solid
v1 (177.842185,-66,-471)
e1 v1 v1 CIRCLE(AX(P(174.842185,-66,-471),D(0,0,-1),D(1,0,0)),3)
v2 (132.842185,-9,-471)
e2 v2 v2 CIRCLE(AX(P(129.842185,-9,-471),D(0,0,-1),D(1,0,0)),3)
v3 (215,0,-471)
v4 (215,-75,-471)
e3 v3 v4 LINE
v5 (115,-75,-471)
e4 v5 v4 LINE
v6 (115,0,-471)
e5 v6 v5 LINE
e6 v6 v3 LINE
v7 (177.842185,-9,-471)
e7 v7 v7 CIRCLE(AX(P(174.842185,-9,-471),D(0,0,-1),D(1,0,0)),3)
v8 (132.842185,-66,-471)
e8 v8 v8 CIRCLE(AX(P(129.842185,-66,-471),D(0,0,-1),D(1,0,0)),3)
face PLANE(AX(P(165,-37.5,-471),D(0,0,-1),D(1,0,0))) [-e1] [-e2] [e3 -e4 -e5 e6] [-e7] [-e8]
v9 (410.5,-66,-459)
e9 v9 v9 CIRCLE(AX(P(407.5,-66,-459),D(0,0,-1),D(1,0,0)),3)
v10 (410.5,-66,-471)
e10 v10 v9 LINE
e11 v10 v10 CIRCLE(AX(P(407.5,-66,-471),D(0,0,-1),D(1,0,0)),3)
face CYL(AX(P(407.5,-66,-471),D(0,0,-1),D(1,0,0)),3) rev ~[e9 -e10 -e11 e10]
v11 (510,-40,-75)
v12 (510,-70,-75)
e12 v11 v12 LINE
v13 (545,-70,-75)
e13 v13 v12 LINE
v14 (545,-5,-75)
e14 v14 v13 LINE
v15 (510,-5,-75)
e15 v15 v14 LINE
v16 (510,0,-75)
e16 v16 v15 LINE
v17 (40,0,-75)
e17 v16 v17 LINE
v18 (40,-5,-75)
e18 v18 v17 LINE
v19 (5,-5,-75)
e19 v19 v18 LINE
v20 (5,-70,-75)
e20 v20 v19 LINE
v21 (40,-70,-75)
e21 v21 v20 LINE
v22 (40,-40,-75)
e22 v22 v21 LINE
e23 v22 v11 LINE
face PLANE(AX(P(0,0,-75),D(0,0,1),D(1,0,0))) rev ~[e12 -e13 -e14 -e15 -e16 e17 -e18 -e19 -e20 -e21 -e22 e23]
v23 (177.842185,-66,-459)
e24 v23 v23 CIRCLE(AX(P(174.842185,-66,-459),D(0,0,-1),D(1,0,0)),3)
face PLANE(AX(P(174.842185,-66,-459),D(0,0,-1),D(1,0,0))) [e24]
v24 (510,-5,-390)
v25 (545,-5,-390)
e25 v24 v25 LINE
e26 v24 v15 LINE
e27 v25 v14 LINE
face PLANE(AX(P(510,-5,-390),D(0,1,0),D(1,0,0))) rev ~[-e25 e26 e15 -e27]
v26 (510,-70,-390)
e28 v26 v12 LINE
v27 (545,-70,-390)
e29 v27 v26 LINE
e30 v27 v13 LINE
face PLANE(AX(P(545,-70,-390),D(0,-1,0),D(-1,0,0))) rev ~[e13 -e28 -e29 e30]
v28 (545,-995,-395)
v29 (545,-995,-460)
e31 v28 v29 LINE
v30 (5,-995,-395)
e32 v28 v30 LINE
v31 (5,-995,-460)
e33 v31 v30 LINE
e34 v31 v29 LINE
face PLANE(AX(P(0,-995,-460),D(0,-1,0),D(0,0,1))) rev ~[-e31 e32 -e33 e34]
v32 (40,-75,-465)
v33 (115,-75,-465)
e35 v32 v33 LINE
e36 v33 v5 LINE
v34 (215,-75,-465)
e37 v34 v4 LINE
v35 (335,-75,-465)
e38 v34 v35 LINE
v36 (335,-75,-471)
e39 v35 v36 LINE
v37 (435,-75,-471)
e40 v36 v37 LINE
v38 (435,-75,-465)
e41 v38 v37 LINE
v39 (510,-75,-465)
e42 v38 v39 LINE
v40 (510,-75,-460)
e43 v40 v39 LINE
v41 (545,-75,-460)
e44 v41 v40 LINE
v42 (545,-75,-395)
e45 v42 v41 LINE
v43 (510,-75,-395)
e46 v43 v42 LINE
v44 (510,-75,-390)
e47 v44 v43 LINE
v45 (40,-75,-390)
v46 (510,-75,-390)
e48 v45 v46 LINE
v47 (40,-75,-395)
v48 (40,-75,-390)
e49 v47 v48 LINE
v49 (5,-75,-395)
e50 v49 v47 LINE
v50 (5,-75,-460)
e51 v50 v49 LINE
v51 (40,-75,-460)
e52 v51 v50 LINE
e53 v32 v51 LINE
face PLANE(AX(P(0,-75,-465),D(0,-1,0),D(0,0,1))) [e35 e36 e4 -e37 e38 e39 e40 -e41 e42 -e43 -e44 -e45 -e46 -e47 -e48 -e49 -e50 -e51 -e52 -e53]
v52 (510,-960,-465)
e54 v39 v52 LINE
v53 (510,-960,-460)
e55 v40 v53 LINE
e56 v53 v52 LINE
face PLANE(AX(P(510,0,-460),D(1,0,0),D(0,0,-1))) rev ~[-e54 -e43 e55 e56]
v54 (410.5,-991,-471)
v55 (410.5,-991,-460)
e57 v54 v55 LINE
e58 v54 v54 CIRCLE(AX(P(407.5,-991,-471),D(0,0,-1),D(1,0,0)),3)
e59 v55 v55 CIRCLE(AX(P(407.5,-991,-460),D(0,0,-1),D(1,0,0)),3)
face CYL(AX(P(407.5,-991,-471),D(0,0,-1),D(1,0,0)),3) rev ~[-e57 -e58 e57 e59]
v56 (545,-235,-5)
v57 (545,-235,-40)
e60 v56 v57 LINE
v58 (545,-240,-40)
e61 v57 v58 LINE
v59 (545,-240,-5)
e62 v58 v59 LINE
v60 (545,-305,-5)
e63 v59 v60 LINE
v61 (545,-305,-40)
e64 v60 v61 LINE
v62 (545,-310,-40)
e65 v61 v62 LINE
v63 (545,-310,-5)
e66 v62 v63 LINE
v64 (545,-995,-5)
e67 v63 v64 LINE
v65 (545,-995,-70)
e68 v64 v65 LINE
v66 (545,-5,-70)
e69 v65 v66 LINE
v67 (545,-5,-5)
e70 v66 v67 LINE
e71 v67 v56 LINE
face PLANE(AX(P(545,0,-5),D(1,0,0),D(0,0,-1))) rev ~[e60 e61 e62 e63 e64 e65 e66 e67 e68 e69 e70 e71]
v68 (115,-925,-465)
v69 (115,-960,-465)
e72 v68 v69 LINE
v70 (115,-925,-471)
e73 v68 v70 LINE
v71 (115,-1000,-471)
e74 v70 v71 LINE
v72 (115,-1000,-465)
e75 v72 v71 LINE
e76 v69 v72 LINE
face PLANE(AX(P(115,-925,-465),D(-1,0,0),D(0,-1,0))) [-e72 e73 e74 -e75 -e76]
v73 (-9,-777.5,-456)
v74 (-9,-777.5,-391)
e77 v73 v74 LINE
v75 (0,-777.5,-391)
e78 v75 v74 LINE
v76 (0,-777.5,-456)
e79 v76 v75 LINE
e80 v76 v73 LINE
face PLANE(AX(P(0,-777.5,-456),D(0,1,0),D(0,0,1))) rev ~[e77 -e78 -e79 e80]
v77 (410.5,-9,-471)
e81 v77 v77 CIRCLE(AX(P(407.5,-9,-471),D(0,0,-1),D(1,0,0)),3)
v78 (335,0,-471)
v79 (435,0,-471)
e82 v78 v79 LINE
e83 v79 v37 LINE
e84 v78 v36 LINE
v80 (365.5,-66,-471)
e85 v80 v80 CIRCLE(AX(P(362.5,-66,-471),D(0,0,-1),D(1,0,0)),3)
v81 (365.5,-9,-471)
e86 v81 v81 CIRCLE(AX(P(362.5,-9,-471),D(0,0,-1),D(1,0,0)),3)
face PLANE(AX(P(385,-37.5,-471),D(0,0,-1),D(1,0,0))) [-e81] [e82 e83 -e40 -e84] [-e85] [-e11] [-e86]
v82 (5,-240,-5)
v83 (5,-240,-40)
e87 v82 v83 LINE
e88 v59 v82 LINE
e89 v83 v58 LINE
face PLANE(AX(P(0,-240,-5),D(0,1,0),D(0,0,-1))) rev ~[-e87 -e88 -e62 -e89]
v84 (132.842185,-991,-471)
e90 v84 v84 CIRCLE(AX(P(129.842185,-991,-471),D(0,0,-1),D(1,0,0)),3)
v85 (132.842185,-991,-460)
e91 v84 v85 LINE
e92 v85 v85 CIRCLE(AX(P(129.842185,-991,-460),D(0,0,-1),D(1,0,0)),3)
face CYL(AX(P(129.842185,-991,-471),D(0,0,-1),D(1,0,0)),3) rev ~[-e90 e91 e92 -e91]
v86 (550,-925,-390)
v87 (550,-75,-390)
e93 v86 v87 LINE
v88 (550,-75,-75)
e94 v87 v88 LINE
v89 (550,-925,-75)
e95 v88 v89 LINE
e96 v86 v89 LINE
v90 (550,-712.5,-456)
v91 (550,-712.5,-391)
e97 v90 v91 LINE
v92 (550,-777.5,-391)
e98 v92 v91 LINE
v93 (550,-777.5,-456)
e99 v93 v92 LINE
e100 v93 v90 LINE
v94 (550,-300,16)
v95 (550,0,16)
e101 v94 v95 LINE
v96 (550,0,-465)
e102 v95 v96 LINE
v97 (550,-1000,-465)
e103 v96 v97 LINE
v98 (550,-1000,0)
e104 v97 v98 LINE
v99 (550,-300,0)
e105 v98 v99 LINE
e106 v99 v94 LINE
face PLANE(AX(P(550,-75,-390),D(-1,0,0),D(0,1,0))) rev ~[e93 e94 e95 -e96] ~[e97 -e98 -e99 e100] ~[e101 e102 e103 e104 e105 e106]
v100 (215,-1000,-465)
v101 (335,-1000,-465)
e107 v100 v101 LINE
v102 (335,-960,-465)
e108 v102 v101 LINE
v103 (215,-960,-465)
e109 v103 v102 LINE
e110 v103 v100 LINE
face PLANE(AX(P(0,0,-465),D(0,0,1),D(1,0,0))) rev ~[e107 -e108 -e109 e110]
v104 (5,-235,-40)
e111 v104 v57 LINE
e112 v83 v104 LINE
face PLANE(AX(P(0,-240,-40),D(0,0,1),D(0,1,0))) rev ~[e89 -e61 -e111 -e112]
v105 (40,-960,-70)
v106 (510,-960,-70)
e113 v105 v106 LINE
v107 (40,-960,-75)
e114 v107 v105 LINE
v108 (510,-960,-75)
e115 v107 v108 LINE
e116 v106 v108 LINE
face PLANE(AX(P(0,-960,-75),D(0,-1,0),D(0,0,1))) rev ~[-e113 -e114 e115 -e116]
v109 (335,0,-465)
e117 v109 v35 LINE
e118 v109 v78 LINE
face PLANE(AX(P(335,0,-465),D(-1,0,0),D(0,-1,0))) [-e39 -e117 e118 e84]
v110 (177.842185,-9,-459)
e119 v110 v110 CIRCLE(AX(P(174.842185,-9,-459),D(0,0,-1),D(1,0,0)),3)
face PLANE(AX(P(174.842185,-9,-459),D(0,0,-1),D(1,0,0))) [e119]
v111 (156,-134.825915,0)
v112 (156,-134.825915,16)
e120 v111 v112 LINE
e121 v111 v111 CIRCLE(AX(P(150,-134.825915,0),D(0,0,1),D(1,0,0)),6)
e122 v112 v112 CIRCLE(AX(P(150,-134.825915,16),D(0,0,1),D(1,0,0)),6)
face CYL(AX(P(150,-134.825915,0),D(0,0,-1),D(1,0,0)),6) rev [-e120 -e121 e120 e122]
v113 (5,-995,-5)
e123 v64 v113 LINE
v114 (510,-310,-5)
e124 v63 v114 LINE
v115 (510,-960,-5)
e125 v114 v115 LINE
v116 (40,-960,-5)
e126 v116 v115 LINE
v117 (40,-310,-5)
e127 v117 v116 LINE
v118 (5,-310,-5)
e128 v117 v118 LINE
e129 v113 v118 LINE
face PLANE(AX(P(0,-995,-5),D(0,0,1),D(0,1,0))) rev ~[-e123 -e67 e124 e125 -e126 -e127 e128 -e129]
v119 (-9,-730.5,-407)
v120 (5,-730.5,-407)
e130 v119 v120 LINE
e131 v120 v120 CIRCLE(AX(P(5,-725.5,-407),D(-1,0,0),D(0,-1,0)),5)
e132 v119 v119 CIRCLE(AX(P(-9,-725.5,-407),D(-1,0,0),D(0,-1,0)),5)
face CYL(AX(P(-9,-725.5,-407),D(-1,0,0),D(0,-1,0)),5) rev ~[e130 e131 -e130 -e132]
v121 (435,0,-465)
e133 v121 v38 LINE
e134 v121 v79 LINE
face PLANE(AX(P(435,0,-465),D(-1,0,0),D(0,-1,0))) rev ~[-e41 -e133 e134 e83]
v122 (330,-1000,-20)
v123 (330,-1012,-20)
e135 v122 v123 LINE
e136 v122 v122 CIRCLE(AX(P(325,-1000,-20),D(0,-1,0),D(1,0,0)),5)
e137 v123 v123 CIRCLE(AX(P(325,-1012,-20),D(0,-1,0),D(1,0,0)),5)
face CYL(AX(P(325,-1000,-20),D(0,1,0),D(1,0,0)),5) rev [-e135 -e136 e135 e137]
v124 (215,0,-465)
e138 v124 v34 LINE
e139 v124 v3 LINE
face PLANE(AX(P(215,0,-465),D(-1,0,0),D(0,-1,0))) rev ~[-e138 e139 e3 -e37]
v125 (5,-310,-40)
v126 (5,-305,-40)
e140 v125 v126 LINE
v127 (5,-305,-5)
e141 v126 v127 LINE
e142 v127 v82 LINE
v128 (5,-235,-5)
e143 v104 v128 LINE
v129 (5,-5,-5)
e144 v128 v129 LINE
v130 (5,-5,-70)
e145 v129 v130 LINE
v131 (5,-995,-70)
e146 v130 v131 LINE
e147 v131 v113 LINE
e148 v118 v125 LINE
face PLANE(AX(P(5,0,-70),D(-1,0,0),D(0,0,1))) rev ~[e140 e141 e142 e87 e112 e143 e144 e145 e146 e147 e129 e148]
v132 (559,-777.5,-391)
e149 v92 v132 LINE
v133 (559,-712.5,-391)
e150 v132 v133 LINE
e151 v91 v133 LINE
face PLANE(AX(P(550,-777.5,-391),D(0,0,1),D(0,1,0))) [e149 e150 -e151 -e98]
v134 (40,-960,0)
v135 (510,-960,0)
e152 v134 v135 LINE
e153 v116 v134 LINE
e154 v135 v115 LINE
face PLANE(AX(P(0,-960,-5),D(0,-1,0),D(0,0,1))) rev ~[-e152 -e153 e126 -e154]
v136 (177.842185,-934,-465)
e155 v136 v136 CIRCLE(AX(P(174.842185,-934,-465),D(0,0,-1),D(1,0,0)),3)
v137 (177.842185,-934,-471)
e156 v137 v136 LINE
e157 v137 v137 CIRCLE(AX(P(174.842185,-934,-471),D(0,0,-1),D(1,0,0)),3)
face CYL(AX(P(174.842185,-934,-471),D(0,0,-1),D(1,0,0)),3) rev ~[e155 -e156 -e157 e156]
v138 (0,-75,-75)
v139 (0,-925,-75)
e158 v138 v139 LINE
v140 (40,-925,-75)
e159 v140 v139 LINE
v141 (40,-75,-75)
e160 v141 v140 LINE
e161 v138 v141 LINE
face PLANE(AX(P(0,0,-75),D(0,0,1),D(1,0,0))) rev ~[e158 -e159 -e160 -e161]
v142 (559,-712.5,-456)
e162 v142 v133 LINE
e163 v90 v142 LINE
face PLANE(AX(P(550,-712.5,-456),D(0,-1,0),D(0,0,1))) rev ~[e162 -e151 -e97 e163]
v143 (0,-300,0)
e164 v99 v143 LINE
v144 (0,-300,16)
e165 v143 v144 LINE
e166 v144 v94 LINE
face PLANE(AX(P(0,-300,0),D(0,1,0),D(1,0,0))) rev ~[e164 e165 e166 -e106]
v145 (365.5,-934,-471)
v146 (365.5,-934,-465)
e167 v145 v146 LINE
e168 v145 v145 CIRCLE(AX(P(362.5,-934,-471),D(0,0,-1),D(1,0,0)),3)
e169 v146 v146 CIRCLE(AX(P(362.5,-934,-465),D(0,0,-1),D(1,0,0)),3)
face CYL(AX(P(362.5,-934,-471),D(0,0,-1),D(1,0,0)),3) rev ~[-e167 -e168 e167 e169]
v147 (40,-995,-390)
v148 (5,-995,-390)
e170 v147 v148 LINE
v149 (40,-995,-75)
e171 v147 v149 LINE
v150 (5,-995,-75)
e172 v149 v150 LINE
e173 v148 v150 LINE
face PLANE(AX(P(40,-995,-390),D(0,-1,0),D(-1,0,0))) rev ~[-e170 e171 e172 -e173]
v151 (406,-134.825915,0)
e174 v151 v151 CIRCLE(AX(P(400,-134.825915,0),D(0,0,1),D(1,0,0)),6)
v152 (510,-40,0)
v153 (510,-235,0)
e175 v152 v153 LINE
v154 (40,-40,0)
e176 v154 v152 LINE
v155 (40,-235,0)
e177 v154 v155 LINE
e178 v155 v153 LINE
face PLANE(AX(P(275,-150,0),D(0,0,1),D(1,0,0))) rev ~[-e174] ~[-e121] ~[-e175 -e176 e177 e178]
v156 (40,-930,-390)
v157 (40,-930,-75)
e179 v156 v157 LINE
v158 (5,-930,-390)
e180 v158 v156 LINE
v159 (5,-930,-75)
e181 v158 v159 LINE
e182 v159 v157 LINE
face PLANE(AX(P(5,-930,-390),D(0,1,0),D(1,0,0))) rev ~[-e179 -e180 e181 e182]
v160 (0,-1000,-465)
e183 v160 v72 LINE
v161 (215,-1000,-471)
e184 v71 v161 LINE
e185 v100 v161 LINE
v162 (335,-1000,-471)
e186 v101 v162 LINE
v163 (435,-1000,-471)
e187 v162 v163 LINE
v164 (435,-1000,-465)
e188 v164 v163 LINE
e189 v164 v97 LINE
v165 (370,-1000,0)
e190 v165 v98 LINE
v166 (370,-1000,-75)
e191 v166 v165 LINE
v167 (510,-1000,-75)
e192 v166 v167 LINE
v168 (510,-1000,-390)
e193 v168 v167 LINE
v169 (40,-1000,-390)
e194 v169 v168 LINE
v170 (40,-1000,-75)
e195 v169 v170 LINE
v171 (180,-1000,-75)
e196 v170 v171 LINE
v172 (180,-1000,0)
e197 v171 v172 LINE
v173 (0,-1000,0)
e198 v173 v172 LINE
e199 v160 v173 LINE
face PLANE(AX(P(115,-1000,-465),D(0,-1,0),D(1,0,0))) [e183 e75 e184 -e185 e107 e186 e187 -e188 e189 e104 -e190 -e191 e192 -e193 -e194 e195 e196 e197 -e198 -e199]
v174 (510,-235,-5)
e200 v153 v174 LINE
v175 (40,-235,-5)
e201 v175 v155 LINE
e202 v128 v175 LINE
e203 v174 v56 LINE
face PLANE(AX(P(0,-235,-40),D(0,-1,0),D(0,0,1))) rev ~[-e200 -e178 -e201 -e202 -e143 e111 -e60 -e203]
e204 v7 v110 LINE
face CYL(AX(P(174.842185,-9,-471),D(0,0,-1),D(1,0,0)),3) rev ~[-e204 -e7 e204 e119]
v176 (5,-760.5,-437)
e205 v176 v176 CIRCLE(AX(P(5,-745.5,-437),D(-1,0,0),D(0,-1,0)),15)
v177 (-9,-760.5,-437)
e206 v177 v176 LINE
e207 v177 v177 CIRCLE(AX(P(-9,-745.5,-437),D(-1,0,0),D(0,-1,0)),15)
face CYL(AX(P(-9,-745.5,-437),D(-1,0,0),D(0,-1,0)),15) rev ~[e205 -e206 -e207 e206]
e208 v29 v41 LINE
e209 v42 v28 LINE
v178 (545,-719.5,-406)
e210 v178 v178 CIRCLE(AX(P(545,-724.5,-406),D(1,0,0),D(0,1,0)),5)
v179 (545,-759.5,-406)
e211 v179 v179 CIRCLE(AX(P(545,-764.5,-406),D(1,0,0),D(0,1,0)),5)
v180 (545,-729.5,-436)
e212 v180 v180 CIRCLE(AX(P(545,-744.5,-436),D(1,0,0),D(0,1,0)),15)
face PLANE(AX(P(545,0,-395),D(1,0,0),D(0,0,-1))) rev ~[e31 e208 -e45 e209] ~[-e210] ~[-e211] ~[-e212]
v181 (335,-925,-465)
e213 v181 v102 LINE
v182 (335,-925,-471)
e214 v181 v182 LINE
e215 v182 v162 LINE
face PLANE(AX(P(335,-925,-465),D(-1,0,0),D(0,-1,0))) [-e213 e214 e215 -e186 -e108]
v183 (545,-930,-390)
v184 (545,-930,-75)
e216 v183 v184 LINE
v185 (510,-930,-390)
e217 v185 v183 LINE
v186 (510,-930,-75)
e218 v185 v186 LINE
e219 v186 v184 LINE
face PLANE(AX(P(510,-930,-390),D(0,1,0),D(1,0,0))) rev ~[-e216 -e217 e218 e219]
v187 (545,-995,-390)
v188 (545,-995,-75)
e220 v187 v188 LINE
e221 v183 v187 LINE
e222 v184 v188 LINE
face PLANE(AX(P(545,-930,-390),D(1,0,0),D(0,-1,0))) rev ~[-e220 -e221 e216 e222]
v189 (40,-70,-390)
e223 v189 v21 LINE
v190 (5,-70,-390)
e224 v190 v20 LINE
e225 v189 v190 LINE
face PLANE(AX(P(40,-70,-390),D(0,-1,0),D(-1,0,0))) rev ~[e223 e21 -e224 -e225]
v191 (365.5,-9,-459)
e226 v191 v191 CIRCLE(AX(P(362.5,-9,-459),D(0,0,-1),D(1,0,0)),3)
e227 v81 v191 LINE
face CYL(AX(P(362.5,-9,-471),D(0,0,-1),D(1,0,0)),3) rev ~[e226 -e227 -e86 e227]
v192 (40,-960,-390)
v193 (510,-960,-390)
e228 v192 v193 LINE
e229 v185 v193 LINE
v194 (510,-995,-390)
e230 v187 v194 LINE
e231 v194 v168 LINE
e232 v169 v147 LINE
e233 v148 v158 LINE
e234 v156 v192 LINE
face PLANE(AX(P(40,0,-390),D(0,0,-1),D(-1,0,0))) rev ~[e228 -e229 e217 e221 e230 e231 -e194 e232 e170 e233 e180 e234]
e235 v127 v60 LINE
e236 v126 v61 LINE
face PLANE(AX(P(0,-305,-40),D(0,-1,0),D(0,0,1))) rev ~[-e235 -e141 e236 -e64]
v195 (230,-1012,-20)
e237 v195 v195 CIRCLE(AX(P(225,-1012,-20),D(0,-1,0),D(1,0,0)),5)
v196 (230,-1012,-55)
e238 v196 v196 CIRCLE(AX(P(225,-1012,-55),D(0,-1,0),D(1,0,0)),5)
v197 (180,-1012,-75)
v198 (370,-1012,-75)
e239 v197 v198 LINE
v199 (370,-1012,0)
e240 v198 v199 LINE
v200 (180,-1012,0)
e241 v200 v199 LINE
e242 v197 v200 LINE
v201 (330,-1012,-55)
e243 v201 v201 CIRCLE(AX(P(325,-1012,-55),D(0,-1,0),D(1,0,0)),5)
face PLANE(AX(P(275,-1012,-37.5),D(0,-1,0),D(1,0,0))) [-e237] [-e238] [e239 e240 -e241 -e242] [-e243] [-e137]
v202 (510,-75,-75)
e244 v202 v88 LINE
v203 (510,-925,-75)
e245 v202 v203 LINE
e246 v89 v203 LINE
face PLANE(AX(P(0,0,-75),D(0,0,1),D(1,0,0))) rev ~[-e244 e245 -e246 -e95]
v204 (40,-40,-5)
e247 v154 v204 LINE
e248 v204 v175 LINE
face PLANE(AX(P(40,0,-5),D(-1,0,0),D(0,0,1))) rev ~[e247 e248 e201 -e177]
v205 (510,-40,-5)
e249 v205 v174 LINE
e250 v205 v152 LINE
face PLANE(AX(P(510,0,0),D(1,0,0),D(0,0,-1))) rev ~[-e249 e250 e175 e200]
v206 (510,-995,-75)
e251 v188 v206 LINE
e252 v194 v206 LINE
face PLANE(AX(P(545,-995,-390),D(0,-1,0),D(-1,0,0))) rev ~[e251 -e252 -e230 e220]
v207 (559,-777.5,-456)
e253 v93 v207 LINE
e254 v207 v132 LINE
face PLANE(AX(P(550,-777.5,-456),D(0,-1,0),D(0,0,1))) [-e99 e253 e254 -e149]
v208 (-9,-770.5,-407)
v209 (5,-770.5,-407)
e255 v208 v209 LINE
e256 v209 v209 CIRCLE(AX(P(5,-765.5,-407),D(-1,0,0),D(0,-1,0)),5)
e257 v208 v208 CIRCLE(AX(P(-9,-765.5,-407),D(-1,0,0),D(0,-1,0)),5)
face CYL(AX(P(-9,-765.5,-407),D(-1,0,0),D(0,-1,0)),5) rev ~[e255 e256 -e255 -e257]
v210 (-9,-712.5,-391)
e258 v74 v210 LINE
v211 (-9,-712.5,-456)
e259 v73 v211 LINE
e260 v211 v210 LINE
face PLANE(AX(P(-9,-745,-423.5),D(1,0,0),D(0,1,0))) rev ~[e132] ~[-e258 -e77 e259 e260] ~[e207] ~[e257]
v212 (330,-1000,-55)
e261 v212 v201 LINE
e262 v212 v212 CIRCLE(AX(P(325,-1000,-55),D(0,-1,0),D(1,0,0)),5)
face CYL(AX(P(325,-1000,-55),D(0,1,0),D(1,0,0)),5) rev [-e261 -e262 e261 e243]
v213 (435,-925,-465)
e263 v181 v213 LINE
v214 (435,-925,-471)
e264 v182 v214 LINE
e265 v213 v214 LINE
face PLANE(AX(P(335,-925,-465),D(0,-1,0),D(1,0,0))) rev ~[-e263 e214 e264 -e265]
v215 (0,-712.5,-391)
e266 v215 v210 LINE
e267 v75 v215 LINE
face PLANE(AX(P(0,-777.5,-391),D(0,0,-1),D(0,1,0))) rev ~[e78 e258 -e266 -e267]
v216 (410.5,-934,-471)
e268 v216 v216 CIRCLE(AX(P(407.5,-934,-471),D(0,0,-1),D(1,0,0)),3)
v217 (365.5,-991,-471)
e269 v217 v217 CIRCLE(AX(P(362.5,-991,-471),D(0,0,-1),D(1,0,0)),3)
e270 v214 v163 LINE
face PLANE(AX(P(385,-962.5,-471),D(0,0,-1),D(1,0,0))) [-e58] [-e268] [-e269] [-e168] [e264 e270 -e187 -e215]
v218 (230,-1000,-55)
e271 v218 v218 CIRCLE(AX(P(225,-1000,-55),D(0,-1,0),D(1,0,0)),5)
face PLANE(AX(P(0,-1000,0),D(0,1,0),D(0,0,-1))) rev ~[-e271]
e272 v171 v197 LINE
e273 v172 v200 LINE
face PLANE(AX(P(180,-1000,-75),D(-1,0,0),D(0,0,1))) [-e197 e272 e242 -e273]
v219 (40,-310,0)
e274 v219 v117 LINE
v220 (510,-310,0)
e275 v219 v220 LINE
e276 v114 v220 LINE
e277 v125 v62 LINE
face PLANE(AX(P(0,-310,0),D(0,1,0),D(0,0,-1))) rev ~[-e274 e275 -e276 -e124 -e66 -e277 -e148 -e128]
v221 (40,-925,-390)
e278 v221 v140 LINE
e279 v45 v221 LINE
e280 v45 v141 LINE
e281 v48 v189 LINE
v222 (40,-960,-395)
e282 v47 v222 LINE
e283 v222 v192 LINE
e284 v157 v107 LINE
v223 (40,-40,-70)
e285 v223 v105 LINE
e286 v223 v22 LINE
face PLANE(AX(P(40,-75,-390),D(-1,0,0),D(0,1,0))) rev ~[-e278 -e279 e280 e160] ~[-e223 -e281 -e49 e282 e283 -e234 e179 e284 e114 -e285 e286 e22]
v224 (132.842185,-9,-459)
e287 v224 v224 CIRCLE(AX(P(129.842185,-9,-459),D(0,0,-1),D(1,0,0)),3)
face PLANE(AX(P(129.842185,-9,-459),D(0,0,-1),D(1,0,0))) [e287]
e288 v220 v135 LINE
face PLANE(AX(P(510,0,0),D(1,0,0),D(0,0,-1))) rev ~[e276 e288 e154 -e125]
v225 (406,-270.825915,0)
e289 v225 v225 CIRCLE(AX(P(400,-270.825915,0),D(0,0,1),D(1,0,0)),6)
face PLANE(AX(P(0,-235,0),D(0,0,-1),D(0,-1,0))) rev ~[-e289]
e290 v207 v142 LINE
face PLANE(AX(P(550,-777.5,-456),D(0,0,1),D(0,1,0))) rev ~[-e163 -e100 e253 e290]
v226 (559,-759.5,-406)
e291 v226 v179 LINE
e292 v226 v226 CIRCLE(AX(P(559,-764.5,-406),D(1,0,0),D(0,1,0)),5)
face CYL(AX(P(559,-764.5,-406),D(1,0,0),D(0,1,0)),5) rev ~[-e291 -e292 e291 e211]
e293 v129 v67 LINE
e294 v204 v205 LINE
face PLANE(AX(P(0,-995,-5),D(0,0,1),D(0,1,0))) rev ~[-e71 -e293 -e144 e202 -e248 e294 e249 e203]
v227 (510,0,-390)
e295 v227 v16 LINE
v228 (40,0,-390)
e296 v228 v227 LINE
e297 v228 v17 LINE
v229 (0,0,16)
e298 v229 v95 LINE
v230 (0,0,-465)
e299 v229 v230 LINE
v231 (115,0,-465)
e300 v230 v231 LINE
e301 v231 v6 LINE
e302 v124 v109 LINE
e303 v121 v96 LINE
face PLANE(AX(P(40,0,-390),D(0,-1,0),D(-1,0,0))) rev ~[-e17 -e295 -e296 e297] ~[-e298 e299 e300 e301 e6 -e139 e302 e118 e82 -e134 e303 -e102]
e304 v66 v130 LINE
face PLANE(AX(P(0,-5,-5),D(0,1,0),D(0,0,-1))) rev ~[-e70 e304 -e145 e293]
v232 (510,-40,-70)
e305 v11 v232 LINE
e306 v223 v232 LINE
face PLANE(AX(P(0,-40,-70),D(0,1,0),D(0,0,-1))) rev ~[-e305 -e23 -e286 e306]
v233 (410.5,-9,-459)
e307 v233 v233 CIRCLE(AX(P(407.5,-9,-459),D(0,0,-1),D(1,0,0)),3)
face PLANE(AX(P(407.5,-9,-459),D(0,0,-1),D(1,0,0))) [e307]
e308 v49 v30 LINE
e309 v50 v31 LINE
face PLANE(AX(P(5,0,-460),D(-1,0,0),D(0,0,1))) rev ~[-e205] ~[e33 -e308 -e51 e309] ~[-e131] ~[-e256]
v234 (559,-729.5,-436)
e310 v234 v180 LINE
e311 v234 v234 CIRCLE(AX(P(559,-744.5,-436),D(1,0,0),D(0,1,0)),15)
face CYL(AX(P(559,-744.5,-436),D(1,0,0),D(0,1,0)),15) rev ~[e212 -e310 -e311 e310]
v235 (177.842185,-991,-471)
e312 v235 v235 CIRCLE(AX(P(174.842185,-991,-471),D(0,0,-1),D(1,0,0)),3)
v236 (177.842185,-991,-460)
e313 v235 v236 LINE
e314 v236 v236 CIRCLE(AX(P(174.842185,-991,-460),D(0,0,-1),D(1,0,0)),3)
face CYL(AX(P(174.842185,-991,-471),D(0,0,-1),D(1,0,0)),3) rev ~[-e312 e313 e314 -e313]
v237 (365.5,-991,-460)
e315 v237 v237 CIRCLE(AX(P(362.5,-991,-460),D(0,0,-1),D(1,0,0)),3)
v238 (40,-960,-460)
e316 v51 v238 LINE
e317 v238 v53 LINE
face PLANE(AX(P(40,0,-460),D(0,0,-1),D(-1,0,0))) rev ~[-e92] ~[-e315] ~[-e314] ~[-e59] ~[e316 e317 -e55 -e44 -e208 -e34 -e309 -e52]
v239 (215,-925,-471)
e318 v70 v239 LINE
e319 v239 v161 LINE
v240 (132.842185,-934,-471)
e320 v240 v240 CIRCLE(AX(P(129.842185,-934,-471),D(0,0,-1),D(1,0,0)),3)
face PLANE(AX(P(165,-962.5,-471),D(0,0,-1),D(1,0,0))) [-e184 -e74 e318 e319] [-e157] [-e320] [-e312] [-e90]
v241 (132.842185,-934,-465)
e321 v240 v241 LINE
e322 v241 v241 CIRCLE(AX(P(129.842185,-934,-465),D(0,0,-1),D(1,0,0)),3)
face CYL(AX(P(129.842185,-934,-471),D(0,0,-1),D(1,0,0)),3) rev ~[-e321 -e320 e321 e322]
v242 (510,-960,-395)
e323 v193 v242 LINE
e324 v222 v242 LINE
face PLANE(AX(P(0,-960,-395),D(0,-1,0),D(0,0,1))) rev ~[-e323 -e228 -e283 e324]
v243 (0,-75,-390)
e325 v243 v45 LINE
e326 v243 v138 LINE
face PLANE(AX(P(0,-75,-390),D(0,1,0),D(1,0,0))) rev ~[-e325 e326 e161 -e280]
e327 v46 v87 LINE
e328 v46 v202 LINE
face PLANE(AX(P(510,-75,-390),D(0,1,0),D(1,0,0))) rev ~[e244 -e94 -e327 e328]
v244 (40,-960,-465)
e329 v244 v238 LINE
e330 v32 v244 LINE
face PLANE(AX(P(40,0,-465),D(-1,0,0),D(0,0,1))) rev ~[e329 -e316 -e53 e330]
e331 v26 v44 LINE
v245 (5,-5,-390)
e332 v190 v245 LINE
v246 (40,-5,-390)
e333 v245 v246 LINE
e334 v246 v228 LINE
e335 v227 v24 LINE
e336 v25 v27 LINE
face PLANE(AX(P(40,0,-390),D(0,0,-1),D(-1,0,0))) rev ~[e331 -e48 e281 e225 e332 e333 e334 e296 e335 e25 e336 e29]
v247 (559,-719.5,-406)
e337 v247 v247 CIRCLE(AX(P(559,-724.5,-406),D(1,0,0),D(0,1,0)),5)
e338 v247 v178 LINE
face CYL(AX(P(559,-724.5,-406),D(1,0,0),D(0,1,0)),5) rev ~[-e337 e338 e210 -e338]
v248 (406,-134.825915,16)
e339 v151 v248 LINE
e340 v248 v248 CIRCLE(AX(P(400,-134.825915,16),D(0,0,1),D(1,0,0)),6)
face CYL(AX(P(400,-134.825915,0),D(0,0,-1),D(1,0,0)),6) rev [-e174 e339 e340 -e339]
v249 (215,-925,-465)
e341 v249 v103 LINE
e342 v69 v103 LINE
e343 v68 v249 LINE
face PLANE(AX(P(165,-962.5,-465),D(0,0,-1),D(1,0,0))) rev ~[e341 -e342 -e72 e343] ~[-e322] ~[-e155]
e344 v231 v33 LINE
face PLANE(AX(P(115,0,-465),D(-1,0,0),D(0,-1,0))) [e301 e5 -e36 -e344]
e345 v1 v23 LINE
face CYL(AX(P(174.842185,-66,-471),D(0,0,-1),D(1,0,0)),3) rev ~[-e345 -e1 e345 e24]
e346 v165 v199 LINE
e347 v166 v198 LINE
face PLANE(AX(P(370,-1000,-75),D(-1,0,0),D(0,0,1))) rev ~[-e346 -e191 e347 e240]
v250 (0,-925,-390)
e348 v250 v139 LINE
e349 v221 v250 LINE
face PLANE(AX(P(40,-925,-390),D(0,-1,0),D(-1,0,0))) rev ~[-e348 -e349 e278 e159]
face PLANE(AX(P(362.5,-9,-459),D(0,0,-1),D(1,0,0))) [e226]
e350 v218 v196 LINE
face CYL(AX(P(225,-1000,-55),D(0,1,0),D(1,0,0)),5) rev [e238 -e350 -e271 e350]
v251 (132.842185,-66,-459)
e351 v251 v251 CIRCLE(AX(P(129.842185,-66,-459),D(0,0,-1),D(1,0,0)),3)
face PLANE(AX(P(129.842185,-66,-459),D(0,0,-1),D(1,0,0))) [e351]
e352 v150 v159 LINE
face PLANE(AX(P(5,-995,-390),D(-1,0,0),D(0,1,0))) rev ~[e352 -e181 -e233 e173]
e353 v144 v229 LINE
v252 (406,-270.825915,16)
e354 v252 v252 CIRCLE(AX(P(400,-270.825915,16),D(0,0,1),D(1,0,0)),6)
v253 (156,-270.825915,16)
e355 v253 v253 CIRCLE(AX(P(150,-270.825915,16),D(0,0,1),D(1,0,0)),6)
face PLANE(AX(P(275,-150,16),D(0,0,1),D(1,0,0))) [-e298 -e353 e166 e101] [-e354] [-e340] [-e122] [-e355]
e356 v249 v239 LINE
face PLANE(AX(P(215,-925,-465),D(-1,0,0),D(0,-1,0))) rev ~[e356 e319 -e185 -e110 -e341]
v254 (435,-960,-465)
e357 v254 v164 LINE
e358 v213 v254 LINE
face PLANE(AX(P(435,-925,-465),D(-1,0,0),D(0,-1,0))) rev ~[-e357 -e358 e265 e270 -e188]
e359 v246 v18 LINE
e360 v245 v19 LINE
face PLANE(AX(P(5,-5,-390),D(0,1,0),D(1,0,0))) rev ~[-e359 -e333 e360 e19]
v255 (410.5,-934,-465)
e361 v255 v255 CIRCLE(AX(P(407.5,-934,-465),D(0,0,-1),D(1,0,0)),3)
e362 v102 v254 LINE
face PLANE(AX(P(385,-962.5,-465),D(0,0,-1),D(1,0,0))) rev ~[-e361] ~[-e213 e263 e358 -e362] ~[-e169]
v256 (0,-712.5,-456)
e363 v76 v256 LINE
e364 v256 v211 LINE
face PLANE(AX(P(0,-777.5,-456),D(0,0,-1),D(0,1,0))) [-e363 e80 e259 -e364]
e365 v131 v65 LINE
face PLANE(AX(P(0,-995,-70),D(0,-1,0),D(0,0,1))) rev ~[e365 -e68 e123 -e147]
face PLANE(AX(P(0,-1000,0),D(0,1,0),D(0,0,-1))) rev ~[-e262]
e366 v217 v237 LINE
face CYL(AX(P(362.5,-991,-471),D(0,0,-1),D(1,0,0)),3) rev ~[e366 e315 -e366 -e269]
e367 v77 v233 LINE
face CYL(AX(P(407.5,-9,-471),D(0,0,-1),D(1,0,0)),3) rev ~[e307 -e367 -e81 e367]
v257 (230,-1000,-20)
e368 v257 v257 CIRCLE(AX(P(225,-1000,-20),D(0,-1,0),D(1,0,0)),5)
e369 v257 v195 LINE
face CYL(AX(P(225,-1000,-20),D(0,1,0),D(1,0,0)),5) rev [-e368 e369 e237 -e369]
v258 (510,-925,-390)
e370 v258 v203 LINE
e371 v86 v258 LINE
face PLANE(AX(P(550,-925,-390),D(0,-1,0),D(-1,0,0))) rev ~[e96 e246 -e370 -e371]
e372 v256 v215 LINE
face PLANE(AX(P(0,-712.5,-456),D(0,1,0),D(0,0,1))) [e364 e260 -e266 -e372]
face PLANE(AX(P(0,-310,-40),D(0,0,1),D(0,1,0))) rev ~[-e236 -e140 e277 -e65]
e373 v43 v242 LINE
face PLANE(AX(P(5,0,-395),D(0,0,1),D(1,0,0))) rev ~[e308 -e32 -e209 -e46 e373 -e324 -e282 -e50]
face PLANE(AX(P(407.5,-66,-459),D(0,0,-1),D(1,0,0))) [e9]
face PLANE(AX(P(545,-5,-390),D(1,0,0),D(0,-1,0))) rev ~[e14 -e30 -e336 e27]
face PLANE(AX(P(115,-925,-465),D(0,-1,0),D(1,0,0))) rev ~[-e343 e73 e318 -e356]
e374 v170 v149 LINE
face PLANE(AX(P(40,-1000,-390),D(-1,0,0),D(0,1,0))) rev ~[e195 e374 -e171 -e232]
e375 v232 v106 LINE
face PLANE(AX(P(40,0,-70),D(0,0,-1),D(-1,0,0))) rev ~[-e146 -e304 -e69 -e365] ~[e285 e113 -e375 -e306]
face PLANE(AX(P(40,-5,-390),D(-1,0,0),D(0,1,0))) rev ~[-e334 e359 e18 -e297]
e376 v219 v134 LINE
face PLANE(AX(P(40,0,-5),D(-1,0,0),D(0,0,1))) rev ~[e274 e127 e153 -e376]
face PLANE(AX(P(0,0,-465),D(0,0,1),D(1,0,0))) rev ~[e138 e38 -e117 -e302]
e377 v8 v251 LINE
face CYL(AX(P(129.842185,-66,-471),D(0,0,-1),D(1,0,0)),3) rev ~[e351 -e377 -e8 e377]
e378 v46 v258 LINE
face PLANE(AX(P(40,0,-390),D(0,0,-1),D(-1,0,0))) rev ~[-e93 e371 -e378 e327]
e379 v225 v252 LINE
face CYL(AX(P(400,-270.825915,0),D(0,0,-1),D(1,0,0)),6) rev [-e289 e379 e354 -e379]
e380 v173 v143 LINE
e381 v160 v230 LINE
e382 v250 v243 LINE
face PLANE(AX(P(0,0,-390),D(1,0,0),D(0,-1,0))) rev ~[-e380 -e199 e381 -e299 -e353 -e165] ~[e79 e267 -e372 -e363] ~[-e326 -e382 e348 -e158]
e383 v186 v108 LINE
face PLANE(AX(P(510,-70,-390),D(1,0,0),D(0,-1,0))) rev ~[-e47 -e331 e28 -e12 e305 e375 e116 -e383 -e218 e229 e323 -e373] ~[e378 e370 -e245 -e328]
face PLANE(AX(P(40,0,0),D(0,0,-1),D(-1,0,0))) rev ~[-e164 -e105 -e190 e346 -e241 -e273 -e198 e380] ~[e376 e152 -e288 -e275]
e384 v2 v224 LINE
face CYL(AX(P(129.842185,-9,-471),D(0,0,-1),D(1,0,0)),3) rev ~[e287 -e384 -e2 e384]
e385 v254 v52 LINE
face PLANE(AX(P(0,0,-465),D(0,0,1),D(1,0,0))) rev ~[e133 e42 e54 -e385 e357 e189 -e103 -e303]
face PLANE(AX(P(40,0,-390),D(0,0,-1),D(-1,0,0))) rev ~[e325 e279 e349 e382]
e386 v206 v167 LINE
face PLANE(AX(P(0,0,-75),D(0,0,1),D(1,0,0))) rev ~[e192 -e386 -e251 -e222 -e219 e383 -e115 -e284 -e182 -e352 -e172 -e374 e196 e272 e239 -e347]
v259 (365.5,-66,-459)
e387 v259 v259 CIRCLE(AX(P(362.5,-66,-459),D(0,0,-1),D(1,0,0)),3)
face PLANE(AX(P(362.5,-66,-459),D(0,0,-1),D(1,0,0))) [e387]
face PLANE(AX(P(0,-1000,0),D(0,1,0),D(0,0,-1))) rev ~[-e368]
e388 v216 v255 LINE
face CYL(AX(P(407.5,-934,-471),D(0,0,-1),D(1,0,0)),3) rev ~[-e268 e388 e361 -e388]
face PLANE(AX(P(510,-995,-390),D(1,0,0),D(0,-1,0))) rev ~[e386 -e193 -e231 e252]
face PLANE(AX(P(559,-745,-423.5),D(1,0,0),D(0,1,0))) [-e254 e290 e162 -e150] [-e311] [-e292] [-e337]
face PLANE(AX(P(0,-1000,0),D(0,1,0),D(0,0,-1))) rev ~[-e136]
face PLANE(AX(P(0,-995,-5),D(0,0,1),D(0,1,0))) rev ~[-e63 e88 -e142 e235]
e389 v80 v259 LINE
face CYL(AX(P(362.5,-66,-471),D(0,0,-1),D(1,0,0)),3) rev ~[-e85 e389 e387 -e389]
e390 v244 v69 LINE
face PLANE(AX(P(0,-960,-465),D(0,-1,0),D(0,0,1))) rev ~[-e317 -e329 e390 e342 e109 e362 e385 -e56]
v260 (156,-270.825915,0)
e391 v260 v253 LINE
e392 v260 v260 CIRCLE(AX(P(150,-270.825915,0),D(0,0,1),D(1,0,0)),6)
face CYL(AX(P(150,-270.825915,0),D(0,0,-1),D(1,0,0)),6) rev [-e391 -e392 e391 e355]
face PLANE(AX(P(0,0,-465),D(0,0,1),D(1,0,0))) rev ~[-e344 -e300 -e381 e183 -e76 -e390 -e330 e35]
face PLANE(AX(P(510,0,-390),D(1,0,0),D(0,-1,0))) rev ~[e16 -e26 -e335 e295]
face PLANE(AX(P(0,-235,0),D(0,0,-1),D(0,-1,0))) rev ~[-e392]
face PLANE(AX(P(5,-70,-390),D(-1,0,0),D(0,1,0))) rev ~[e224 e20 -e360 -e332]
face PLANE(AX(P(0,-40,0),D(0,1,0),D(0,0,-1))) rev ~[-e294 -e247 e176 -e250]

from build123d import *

# Parameters (mm, degrees)
F1_DEPTH  = 1000
F3_DEPTH  = 550
F2_W      = 75
F2_H      = 75
F5_DEPTH  = 315
F6_W      = 550
F6_H      = 300
F6_R      = 6
F7_DEPTH  = 16
F9_W      = 190
F9_H      = 75
F9_R      = 5
F10_DEPTH = 12
F12_W     = 100
F12_H     = 75
F14_DEPTH = 6
F16_R     = 3
F17_DEPTH = 12
F18_W     = 65
F18_H     = 65
F19_DEPTH = 9
F21_W     = 65
F21_H     = 65
F22_DEPTH = 9
F23_R     = 5
F23_R_2   = 15
F24_DEPTH = 25
F25_R     = 5
F25_R_2   = 15
F26_DEPTH = 25


with BuildPart() as f1:
    # F0 (on Front) → F1 (new body)
    with BuildSketch(Plane.XZ):
        Polygon((40, 0), (0, 0), (0, -75), (40, -75), (40, -70), (5, -70), (5, -5), (40, -5), align=None)
    extrude(amount=F1_DEPTH)


with BuildPart() as f1b:
    # F0 (on Front) → F1, piece 2 (new body)
    with BuildSketch(Plane.XZ):
        Polygon((545, -70), (510, -70), (510, -75), (550, -75), (550, 0), (510, 0), (510, -5), (545, -5), align=None)
    extrude(amount=F1_DEPTH)


with BuildPart() as f1c:
    # F0 (on Front) → F1, piece 3 (new body)
    with BuildSketch(Plane.XZ):
        Polygon((40, -390), (0, -390), (0, -465), (40, -465), (40, -460), (5, -460), (5, -395), (40, -395), align=None)
    extrude(amount=F1_DEPTH)


with BuildPart() as f1d:
    # F0 (on Front) → F1, piece 4 (new body)
    with BuildSketch(Plane.XZ):
        Polygon((545, -460), (510, -460), (510, -465), (550, -465), (550, -390), (510, -390), (510, -395), (545, -395), align=None)
    extrude(amount=F1_DEPTH)


with BuildPart() as f3:
    # F2 (on Right) → F3 (new body)
    with BuildSketch(Plane.YZ):
        Polygon((-40, -75), (0, -75), (0, 0), (-40, 0), (-40, -5), (-5, -5), (-5, -70), (-40, -70), align=None)
    extrude(amount=F3_DEPTH)


with BuildPart() as f3b:
    # F2 (on Right) → F3, piece 2 (new body)
    with BuildSketch(Plane.YZ):
        Polygon((-960, -5), (-960, 0), (-1000, 0), (-1000, -75), (-960, -75), (-960, -70), (-995, -70), (-995, -5), align=None)
    extrude(amount=F3_DEPTH)

    # F9 (on offset) → F10 (join)
    with BuildSketch(Plane.XZ.offset(1000)):
        with Locations((275, -37.5)):
            Rectangle(F9_W, F9_H)
        with Locations((225, -55)):
            Circle(F9_R, mode=Mode.SUBTRACT)
        with Locations((325, -55)):
            Circle(F9_R, mode=Mode.SUBTRACT)
        with Locations((225, -20)):
            Circle(F9_R, mode=Mode.SUBTRACT)
        with Locations((325, -20)):
            Circle(F9_R, mode=Mode.SUBTRACT)
    extrude(amount=F10_DEPTH)


with BuildPart() as f3c:
    # F2 (on Right) → F3, piece 3 (new body)
    with BuildSketch(Plane.YZ):
        Polygon((-240, -40), (-235, -40), (-235, 0), (-310, 0), (-310, -40), (-305, -40), (-305, -5), (-240, -5), align=None)
    extrude(amount=F3_DEPTH)


with BuildPart() as f3d:
    # F2 (on Right) → F3, piece 4 (new body)
    with BuildSketch(Plane.YZ):
        Polygon((-960, -395), (-960, -390), (-1000, -390), (-1000, -465), (-960, -465), (-960, -460), (-995, -460), (-995, -395), align=None)
    extrude(amount=F3_DEPTH)


with BuildPart() as f3e:
    # F2 (on Right) → F3, piece 5 (new body)
    with BuildSketch(Plane.YZ):
        with Locations((-37.5, -427.5)):
            Rectangle(F2_W, F2_H)
    extrude(amount=F3_DEPTH)


with BuildPart() as f5:
    # F4 (on face) → F5 (new body)
    with BuildSketch(Plane.XY.offset(-390)):
        Polygon((0, -925), (0, -1000), (40, -1000), (40, -995), (5, -995), (5, -930), (40, -930), (40, -925), align=None)
    extrude(amount=F5_DEPTH)


with BuildPart() as f5b:
    # F4 (on face) → F5, piece 2 (new body)
    with BuildSketch(Plane.XY.offset(-390)):
        Polygon((545, -995), (510, -995), (510, -1000), (550, -1000), (550, -925), (510, -925), (510, -930), (545, -930), align=None)
    extrude(amount=F5_DEPTH)


with BuildPart() as f5c:
    # F4 (on face) → F5, piece 3 (new body)
    with BuildSketch(Plane.XY.offset(-390)):
        Polygon((0, 0), (0, -75), (40, -75), (40, -70), (5, -70), (5, -5), (40, -5), (40, 0), align=None)
    extrude(amount=F5_DEPTH)


with BuildPart() as f5d:
    # F4 (on face) → F5, piece 4 (new body)
    with BuildSketch(Plane.XY.offset(-390)):
        Polygon((545, -70), (510, -70), (510, -75), (550, -75), (550, 0), (510, 0), (510, -5), (545, -5), align=None)
    extrude(amount=F5_DEPTH)


with BuildPart() as f7:
    # F6 (on Top) → F7 (new body)
    with BuildSketch(Plane.XY):
        with Locations((275, -150)):
            Rectangle(F6_W, F6_H)
        with Locations((150, -270.8259150982)):
            Circle(F6_R, mode=Mode.SUBTRACT)
        with Locations((400, -270.8259150982)):
            Circle(F6_R, mode=Mode.SUBTRACT)
        with Locations((150, -134.8259150982)):
            Circle(F6_R, mode=Mode.SUBTRACT)
        with Locations((400, -134.8259150982)):
            Circle(F6_R, mode=Mode.SUBTRACT)
    extrude(amount=F7_DEPTH)


with BuildPart() as f1_1:
    add(f1.part)

    # F13: union F1b, F1c, F1d, F3, F3d, F5b, F7, F3b, F3c, F3e, F5, F5c, F5d
    add(f1b.part)
    add(f1c.part)
    add(f1d.part)
    add(f3.part)
    add(f3d.part)
    add(f5b.part)
    add(f7.part)
    add(f3b.part)
    add(f3c.part)
    add(f3e.part)
    add(f5.part)
    add(f5c.part)
    add(f5d.part)

    # F12 (on offset) → F14 (join)
    with BuildSketch(Plane(origin=(0, 0, -465), x_dir=(1, 0, 0), z_dir=(0, 0, -1))):
        with Locations((165, 37.5)):
            Rectangle(F12_W, F12_H)
        with Locations((385, 37.5)):
            Rectangle(F12_W, F12_H)
        with Locations((165, 962.5)):
            Rectangle(F12_W, F12_H)
        with Locations((385, 962.5)):
            Rectangle(F12_W, F12_H)
    extrude(amount=F14_DEPTH)

    # F16 (on offset) → F17 (cut)
    with BuildSketch(Plane(origin=(0, 0, -471), x_dir=(1, 0, 0), z_dir=(0, 0, -1))):
        with Locations((407.5, 934)):
            Circle(F16_R)
        with Locations((407.5, 991)):
            Circle(F16_R)
        with Locations((362.5, 991)):
            Circle(F16_R)
        with Locations((362.5, 934)):
            Circle(F16_R)
        with Locations((407.5, 9)):
            Circle(F16_R)
        with Locations((407.5, 66)):
            Circle(F16_R)
        with Locations((362.5, 66)):
            Circle(F16_R)
        with Locations((362.5, 9)):
            Circle(F16_R)
        with Locations((174.8421853781, 934)):
            Circle(F16_R)
        with Locations((174.8421853781, 991)):
            Circle(F16_R)
        with Locations((129.8421853781, 991)):
            Circle(F16_R)
        with Locations((129.8421853781, 934)):
            Circle(F16_R)
        with Locations((174.8421853781, 9)):
            Circle(F16_R)
        with Locations((174.8421853781, 66)):
            Circle(F16_R)
        with Locations((129.8421853781, 66)):
            Circle(F16_R)
        with Locations((129.8421853781, 9)):
            Circle(F16_R)
    extrude(amount=-F17_DEPTH, mode=Mode.SUBTRACT)

    # F18 (on Right) → F19 (join)
    with BuildSketch(Plane.YZ):
        with Locations((-745, -423.5)):
            Rectangle(F18_W, F18_H)
    extrude(amount=-F19_DEPTH)

    # F21 (on offset) → F22 (join)
    with BuildSketch(Plane.YZ.offset(550)):
        with Locations((-745, -423.5)):
            Rectangle(F21_W, F21_H)
    extrude(amount=F22_DEPTH)

    # F23 (on face) → F24 (cut)
    with BuildSketch(Plane.YZ.offset(559)):
        with Locations((-764.5, -406)):
            Circle(F23_R)
        with Locations((-724.5, -406)):
            Circle(F23_R)
        with Locations((-744.5, -436)):
            Circle(F23_R_2)
    extrude(amount=-F24_DEPTH, mode=Mode.SUBTRACT)

    # F25 (on face) → F26 (cut)
    with BuildSketch(Plane(origin=(-9, 0, 0), x_dir=(0, -1, 0), z_dir=(-1, 0, 0))):
        with Locations((725.5, -407)):
            Circle(F25_R)
        with Locations((765.5, -407)):
            Circle(F25_R)
        with Locations((745.5, -437)):
            Circle(F25_R_2)
    extrude(amount=-F26_DEPTH, mode=Mode.SUBTRACT)


solid = f1_1.part
